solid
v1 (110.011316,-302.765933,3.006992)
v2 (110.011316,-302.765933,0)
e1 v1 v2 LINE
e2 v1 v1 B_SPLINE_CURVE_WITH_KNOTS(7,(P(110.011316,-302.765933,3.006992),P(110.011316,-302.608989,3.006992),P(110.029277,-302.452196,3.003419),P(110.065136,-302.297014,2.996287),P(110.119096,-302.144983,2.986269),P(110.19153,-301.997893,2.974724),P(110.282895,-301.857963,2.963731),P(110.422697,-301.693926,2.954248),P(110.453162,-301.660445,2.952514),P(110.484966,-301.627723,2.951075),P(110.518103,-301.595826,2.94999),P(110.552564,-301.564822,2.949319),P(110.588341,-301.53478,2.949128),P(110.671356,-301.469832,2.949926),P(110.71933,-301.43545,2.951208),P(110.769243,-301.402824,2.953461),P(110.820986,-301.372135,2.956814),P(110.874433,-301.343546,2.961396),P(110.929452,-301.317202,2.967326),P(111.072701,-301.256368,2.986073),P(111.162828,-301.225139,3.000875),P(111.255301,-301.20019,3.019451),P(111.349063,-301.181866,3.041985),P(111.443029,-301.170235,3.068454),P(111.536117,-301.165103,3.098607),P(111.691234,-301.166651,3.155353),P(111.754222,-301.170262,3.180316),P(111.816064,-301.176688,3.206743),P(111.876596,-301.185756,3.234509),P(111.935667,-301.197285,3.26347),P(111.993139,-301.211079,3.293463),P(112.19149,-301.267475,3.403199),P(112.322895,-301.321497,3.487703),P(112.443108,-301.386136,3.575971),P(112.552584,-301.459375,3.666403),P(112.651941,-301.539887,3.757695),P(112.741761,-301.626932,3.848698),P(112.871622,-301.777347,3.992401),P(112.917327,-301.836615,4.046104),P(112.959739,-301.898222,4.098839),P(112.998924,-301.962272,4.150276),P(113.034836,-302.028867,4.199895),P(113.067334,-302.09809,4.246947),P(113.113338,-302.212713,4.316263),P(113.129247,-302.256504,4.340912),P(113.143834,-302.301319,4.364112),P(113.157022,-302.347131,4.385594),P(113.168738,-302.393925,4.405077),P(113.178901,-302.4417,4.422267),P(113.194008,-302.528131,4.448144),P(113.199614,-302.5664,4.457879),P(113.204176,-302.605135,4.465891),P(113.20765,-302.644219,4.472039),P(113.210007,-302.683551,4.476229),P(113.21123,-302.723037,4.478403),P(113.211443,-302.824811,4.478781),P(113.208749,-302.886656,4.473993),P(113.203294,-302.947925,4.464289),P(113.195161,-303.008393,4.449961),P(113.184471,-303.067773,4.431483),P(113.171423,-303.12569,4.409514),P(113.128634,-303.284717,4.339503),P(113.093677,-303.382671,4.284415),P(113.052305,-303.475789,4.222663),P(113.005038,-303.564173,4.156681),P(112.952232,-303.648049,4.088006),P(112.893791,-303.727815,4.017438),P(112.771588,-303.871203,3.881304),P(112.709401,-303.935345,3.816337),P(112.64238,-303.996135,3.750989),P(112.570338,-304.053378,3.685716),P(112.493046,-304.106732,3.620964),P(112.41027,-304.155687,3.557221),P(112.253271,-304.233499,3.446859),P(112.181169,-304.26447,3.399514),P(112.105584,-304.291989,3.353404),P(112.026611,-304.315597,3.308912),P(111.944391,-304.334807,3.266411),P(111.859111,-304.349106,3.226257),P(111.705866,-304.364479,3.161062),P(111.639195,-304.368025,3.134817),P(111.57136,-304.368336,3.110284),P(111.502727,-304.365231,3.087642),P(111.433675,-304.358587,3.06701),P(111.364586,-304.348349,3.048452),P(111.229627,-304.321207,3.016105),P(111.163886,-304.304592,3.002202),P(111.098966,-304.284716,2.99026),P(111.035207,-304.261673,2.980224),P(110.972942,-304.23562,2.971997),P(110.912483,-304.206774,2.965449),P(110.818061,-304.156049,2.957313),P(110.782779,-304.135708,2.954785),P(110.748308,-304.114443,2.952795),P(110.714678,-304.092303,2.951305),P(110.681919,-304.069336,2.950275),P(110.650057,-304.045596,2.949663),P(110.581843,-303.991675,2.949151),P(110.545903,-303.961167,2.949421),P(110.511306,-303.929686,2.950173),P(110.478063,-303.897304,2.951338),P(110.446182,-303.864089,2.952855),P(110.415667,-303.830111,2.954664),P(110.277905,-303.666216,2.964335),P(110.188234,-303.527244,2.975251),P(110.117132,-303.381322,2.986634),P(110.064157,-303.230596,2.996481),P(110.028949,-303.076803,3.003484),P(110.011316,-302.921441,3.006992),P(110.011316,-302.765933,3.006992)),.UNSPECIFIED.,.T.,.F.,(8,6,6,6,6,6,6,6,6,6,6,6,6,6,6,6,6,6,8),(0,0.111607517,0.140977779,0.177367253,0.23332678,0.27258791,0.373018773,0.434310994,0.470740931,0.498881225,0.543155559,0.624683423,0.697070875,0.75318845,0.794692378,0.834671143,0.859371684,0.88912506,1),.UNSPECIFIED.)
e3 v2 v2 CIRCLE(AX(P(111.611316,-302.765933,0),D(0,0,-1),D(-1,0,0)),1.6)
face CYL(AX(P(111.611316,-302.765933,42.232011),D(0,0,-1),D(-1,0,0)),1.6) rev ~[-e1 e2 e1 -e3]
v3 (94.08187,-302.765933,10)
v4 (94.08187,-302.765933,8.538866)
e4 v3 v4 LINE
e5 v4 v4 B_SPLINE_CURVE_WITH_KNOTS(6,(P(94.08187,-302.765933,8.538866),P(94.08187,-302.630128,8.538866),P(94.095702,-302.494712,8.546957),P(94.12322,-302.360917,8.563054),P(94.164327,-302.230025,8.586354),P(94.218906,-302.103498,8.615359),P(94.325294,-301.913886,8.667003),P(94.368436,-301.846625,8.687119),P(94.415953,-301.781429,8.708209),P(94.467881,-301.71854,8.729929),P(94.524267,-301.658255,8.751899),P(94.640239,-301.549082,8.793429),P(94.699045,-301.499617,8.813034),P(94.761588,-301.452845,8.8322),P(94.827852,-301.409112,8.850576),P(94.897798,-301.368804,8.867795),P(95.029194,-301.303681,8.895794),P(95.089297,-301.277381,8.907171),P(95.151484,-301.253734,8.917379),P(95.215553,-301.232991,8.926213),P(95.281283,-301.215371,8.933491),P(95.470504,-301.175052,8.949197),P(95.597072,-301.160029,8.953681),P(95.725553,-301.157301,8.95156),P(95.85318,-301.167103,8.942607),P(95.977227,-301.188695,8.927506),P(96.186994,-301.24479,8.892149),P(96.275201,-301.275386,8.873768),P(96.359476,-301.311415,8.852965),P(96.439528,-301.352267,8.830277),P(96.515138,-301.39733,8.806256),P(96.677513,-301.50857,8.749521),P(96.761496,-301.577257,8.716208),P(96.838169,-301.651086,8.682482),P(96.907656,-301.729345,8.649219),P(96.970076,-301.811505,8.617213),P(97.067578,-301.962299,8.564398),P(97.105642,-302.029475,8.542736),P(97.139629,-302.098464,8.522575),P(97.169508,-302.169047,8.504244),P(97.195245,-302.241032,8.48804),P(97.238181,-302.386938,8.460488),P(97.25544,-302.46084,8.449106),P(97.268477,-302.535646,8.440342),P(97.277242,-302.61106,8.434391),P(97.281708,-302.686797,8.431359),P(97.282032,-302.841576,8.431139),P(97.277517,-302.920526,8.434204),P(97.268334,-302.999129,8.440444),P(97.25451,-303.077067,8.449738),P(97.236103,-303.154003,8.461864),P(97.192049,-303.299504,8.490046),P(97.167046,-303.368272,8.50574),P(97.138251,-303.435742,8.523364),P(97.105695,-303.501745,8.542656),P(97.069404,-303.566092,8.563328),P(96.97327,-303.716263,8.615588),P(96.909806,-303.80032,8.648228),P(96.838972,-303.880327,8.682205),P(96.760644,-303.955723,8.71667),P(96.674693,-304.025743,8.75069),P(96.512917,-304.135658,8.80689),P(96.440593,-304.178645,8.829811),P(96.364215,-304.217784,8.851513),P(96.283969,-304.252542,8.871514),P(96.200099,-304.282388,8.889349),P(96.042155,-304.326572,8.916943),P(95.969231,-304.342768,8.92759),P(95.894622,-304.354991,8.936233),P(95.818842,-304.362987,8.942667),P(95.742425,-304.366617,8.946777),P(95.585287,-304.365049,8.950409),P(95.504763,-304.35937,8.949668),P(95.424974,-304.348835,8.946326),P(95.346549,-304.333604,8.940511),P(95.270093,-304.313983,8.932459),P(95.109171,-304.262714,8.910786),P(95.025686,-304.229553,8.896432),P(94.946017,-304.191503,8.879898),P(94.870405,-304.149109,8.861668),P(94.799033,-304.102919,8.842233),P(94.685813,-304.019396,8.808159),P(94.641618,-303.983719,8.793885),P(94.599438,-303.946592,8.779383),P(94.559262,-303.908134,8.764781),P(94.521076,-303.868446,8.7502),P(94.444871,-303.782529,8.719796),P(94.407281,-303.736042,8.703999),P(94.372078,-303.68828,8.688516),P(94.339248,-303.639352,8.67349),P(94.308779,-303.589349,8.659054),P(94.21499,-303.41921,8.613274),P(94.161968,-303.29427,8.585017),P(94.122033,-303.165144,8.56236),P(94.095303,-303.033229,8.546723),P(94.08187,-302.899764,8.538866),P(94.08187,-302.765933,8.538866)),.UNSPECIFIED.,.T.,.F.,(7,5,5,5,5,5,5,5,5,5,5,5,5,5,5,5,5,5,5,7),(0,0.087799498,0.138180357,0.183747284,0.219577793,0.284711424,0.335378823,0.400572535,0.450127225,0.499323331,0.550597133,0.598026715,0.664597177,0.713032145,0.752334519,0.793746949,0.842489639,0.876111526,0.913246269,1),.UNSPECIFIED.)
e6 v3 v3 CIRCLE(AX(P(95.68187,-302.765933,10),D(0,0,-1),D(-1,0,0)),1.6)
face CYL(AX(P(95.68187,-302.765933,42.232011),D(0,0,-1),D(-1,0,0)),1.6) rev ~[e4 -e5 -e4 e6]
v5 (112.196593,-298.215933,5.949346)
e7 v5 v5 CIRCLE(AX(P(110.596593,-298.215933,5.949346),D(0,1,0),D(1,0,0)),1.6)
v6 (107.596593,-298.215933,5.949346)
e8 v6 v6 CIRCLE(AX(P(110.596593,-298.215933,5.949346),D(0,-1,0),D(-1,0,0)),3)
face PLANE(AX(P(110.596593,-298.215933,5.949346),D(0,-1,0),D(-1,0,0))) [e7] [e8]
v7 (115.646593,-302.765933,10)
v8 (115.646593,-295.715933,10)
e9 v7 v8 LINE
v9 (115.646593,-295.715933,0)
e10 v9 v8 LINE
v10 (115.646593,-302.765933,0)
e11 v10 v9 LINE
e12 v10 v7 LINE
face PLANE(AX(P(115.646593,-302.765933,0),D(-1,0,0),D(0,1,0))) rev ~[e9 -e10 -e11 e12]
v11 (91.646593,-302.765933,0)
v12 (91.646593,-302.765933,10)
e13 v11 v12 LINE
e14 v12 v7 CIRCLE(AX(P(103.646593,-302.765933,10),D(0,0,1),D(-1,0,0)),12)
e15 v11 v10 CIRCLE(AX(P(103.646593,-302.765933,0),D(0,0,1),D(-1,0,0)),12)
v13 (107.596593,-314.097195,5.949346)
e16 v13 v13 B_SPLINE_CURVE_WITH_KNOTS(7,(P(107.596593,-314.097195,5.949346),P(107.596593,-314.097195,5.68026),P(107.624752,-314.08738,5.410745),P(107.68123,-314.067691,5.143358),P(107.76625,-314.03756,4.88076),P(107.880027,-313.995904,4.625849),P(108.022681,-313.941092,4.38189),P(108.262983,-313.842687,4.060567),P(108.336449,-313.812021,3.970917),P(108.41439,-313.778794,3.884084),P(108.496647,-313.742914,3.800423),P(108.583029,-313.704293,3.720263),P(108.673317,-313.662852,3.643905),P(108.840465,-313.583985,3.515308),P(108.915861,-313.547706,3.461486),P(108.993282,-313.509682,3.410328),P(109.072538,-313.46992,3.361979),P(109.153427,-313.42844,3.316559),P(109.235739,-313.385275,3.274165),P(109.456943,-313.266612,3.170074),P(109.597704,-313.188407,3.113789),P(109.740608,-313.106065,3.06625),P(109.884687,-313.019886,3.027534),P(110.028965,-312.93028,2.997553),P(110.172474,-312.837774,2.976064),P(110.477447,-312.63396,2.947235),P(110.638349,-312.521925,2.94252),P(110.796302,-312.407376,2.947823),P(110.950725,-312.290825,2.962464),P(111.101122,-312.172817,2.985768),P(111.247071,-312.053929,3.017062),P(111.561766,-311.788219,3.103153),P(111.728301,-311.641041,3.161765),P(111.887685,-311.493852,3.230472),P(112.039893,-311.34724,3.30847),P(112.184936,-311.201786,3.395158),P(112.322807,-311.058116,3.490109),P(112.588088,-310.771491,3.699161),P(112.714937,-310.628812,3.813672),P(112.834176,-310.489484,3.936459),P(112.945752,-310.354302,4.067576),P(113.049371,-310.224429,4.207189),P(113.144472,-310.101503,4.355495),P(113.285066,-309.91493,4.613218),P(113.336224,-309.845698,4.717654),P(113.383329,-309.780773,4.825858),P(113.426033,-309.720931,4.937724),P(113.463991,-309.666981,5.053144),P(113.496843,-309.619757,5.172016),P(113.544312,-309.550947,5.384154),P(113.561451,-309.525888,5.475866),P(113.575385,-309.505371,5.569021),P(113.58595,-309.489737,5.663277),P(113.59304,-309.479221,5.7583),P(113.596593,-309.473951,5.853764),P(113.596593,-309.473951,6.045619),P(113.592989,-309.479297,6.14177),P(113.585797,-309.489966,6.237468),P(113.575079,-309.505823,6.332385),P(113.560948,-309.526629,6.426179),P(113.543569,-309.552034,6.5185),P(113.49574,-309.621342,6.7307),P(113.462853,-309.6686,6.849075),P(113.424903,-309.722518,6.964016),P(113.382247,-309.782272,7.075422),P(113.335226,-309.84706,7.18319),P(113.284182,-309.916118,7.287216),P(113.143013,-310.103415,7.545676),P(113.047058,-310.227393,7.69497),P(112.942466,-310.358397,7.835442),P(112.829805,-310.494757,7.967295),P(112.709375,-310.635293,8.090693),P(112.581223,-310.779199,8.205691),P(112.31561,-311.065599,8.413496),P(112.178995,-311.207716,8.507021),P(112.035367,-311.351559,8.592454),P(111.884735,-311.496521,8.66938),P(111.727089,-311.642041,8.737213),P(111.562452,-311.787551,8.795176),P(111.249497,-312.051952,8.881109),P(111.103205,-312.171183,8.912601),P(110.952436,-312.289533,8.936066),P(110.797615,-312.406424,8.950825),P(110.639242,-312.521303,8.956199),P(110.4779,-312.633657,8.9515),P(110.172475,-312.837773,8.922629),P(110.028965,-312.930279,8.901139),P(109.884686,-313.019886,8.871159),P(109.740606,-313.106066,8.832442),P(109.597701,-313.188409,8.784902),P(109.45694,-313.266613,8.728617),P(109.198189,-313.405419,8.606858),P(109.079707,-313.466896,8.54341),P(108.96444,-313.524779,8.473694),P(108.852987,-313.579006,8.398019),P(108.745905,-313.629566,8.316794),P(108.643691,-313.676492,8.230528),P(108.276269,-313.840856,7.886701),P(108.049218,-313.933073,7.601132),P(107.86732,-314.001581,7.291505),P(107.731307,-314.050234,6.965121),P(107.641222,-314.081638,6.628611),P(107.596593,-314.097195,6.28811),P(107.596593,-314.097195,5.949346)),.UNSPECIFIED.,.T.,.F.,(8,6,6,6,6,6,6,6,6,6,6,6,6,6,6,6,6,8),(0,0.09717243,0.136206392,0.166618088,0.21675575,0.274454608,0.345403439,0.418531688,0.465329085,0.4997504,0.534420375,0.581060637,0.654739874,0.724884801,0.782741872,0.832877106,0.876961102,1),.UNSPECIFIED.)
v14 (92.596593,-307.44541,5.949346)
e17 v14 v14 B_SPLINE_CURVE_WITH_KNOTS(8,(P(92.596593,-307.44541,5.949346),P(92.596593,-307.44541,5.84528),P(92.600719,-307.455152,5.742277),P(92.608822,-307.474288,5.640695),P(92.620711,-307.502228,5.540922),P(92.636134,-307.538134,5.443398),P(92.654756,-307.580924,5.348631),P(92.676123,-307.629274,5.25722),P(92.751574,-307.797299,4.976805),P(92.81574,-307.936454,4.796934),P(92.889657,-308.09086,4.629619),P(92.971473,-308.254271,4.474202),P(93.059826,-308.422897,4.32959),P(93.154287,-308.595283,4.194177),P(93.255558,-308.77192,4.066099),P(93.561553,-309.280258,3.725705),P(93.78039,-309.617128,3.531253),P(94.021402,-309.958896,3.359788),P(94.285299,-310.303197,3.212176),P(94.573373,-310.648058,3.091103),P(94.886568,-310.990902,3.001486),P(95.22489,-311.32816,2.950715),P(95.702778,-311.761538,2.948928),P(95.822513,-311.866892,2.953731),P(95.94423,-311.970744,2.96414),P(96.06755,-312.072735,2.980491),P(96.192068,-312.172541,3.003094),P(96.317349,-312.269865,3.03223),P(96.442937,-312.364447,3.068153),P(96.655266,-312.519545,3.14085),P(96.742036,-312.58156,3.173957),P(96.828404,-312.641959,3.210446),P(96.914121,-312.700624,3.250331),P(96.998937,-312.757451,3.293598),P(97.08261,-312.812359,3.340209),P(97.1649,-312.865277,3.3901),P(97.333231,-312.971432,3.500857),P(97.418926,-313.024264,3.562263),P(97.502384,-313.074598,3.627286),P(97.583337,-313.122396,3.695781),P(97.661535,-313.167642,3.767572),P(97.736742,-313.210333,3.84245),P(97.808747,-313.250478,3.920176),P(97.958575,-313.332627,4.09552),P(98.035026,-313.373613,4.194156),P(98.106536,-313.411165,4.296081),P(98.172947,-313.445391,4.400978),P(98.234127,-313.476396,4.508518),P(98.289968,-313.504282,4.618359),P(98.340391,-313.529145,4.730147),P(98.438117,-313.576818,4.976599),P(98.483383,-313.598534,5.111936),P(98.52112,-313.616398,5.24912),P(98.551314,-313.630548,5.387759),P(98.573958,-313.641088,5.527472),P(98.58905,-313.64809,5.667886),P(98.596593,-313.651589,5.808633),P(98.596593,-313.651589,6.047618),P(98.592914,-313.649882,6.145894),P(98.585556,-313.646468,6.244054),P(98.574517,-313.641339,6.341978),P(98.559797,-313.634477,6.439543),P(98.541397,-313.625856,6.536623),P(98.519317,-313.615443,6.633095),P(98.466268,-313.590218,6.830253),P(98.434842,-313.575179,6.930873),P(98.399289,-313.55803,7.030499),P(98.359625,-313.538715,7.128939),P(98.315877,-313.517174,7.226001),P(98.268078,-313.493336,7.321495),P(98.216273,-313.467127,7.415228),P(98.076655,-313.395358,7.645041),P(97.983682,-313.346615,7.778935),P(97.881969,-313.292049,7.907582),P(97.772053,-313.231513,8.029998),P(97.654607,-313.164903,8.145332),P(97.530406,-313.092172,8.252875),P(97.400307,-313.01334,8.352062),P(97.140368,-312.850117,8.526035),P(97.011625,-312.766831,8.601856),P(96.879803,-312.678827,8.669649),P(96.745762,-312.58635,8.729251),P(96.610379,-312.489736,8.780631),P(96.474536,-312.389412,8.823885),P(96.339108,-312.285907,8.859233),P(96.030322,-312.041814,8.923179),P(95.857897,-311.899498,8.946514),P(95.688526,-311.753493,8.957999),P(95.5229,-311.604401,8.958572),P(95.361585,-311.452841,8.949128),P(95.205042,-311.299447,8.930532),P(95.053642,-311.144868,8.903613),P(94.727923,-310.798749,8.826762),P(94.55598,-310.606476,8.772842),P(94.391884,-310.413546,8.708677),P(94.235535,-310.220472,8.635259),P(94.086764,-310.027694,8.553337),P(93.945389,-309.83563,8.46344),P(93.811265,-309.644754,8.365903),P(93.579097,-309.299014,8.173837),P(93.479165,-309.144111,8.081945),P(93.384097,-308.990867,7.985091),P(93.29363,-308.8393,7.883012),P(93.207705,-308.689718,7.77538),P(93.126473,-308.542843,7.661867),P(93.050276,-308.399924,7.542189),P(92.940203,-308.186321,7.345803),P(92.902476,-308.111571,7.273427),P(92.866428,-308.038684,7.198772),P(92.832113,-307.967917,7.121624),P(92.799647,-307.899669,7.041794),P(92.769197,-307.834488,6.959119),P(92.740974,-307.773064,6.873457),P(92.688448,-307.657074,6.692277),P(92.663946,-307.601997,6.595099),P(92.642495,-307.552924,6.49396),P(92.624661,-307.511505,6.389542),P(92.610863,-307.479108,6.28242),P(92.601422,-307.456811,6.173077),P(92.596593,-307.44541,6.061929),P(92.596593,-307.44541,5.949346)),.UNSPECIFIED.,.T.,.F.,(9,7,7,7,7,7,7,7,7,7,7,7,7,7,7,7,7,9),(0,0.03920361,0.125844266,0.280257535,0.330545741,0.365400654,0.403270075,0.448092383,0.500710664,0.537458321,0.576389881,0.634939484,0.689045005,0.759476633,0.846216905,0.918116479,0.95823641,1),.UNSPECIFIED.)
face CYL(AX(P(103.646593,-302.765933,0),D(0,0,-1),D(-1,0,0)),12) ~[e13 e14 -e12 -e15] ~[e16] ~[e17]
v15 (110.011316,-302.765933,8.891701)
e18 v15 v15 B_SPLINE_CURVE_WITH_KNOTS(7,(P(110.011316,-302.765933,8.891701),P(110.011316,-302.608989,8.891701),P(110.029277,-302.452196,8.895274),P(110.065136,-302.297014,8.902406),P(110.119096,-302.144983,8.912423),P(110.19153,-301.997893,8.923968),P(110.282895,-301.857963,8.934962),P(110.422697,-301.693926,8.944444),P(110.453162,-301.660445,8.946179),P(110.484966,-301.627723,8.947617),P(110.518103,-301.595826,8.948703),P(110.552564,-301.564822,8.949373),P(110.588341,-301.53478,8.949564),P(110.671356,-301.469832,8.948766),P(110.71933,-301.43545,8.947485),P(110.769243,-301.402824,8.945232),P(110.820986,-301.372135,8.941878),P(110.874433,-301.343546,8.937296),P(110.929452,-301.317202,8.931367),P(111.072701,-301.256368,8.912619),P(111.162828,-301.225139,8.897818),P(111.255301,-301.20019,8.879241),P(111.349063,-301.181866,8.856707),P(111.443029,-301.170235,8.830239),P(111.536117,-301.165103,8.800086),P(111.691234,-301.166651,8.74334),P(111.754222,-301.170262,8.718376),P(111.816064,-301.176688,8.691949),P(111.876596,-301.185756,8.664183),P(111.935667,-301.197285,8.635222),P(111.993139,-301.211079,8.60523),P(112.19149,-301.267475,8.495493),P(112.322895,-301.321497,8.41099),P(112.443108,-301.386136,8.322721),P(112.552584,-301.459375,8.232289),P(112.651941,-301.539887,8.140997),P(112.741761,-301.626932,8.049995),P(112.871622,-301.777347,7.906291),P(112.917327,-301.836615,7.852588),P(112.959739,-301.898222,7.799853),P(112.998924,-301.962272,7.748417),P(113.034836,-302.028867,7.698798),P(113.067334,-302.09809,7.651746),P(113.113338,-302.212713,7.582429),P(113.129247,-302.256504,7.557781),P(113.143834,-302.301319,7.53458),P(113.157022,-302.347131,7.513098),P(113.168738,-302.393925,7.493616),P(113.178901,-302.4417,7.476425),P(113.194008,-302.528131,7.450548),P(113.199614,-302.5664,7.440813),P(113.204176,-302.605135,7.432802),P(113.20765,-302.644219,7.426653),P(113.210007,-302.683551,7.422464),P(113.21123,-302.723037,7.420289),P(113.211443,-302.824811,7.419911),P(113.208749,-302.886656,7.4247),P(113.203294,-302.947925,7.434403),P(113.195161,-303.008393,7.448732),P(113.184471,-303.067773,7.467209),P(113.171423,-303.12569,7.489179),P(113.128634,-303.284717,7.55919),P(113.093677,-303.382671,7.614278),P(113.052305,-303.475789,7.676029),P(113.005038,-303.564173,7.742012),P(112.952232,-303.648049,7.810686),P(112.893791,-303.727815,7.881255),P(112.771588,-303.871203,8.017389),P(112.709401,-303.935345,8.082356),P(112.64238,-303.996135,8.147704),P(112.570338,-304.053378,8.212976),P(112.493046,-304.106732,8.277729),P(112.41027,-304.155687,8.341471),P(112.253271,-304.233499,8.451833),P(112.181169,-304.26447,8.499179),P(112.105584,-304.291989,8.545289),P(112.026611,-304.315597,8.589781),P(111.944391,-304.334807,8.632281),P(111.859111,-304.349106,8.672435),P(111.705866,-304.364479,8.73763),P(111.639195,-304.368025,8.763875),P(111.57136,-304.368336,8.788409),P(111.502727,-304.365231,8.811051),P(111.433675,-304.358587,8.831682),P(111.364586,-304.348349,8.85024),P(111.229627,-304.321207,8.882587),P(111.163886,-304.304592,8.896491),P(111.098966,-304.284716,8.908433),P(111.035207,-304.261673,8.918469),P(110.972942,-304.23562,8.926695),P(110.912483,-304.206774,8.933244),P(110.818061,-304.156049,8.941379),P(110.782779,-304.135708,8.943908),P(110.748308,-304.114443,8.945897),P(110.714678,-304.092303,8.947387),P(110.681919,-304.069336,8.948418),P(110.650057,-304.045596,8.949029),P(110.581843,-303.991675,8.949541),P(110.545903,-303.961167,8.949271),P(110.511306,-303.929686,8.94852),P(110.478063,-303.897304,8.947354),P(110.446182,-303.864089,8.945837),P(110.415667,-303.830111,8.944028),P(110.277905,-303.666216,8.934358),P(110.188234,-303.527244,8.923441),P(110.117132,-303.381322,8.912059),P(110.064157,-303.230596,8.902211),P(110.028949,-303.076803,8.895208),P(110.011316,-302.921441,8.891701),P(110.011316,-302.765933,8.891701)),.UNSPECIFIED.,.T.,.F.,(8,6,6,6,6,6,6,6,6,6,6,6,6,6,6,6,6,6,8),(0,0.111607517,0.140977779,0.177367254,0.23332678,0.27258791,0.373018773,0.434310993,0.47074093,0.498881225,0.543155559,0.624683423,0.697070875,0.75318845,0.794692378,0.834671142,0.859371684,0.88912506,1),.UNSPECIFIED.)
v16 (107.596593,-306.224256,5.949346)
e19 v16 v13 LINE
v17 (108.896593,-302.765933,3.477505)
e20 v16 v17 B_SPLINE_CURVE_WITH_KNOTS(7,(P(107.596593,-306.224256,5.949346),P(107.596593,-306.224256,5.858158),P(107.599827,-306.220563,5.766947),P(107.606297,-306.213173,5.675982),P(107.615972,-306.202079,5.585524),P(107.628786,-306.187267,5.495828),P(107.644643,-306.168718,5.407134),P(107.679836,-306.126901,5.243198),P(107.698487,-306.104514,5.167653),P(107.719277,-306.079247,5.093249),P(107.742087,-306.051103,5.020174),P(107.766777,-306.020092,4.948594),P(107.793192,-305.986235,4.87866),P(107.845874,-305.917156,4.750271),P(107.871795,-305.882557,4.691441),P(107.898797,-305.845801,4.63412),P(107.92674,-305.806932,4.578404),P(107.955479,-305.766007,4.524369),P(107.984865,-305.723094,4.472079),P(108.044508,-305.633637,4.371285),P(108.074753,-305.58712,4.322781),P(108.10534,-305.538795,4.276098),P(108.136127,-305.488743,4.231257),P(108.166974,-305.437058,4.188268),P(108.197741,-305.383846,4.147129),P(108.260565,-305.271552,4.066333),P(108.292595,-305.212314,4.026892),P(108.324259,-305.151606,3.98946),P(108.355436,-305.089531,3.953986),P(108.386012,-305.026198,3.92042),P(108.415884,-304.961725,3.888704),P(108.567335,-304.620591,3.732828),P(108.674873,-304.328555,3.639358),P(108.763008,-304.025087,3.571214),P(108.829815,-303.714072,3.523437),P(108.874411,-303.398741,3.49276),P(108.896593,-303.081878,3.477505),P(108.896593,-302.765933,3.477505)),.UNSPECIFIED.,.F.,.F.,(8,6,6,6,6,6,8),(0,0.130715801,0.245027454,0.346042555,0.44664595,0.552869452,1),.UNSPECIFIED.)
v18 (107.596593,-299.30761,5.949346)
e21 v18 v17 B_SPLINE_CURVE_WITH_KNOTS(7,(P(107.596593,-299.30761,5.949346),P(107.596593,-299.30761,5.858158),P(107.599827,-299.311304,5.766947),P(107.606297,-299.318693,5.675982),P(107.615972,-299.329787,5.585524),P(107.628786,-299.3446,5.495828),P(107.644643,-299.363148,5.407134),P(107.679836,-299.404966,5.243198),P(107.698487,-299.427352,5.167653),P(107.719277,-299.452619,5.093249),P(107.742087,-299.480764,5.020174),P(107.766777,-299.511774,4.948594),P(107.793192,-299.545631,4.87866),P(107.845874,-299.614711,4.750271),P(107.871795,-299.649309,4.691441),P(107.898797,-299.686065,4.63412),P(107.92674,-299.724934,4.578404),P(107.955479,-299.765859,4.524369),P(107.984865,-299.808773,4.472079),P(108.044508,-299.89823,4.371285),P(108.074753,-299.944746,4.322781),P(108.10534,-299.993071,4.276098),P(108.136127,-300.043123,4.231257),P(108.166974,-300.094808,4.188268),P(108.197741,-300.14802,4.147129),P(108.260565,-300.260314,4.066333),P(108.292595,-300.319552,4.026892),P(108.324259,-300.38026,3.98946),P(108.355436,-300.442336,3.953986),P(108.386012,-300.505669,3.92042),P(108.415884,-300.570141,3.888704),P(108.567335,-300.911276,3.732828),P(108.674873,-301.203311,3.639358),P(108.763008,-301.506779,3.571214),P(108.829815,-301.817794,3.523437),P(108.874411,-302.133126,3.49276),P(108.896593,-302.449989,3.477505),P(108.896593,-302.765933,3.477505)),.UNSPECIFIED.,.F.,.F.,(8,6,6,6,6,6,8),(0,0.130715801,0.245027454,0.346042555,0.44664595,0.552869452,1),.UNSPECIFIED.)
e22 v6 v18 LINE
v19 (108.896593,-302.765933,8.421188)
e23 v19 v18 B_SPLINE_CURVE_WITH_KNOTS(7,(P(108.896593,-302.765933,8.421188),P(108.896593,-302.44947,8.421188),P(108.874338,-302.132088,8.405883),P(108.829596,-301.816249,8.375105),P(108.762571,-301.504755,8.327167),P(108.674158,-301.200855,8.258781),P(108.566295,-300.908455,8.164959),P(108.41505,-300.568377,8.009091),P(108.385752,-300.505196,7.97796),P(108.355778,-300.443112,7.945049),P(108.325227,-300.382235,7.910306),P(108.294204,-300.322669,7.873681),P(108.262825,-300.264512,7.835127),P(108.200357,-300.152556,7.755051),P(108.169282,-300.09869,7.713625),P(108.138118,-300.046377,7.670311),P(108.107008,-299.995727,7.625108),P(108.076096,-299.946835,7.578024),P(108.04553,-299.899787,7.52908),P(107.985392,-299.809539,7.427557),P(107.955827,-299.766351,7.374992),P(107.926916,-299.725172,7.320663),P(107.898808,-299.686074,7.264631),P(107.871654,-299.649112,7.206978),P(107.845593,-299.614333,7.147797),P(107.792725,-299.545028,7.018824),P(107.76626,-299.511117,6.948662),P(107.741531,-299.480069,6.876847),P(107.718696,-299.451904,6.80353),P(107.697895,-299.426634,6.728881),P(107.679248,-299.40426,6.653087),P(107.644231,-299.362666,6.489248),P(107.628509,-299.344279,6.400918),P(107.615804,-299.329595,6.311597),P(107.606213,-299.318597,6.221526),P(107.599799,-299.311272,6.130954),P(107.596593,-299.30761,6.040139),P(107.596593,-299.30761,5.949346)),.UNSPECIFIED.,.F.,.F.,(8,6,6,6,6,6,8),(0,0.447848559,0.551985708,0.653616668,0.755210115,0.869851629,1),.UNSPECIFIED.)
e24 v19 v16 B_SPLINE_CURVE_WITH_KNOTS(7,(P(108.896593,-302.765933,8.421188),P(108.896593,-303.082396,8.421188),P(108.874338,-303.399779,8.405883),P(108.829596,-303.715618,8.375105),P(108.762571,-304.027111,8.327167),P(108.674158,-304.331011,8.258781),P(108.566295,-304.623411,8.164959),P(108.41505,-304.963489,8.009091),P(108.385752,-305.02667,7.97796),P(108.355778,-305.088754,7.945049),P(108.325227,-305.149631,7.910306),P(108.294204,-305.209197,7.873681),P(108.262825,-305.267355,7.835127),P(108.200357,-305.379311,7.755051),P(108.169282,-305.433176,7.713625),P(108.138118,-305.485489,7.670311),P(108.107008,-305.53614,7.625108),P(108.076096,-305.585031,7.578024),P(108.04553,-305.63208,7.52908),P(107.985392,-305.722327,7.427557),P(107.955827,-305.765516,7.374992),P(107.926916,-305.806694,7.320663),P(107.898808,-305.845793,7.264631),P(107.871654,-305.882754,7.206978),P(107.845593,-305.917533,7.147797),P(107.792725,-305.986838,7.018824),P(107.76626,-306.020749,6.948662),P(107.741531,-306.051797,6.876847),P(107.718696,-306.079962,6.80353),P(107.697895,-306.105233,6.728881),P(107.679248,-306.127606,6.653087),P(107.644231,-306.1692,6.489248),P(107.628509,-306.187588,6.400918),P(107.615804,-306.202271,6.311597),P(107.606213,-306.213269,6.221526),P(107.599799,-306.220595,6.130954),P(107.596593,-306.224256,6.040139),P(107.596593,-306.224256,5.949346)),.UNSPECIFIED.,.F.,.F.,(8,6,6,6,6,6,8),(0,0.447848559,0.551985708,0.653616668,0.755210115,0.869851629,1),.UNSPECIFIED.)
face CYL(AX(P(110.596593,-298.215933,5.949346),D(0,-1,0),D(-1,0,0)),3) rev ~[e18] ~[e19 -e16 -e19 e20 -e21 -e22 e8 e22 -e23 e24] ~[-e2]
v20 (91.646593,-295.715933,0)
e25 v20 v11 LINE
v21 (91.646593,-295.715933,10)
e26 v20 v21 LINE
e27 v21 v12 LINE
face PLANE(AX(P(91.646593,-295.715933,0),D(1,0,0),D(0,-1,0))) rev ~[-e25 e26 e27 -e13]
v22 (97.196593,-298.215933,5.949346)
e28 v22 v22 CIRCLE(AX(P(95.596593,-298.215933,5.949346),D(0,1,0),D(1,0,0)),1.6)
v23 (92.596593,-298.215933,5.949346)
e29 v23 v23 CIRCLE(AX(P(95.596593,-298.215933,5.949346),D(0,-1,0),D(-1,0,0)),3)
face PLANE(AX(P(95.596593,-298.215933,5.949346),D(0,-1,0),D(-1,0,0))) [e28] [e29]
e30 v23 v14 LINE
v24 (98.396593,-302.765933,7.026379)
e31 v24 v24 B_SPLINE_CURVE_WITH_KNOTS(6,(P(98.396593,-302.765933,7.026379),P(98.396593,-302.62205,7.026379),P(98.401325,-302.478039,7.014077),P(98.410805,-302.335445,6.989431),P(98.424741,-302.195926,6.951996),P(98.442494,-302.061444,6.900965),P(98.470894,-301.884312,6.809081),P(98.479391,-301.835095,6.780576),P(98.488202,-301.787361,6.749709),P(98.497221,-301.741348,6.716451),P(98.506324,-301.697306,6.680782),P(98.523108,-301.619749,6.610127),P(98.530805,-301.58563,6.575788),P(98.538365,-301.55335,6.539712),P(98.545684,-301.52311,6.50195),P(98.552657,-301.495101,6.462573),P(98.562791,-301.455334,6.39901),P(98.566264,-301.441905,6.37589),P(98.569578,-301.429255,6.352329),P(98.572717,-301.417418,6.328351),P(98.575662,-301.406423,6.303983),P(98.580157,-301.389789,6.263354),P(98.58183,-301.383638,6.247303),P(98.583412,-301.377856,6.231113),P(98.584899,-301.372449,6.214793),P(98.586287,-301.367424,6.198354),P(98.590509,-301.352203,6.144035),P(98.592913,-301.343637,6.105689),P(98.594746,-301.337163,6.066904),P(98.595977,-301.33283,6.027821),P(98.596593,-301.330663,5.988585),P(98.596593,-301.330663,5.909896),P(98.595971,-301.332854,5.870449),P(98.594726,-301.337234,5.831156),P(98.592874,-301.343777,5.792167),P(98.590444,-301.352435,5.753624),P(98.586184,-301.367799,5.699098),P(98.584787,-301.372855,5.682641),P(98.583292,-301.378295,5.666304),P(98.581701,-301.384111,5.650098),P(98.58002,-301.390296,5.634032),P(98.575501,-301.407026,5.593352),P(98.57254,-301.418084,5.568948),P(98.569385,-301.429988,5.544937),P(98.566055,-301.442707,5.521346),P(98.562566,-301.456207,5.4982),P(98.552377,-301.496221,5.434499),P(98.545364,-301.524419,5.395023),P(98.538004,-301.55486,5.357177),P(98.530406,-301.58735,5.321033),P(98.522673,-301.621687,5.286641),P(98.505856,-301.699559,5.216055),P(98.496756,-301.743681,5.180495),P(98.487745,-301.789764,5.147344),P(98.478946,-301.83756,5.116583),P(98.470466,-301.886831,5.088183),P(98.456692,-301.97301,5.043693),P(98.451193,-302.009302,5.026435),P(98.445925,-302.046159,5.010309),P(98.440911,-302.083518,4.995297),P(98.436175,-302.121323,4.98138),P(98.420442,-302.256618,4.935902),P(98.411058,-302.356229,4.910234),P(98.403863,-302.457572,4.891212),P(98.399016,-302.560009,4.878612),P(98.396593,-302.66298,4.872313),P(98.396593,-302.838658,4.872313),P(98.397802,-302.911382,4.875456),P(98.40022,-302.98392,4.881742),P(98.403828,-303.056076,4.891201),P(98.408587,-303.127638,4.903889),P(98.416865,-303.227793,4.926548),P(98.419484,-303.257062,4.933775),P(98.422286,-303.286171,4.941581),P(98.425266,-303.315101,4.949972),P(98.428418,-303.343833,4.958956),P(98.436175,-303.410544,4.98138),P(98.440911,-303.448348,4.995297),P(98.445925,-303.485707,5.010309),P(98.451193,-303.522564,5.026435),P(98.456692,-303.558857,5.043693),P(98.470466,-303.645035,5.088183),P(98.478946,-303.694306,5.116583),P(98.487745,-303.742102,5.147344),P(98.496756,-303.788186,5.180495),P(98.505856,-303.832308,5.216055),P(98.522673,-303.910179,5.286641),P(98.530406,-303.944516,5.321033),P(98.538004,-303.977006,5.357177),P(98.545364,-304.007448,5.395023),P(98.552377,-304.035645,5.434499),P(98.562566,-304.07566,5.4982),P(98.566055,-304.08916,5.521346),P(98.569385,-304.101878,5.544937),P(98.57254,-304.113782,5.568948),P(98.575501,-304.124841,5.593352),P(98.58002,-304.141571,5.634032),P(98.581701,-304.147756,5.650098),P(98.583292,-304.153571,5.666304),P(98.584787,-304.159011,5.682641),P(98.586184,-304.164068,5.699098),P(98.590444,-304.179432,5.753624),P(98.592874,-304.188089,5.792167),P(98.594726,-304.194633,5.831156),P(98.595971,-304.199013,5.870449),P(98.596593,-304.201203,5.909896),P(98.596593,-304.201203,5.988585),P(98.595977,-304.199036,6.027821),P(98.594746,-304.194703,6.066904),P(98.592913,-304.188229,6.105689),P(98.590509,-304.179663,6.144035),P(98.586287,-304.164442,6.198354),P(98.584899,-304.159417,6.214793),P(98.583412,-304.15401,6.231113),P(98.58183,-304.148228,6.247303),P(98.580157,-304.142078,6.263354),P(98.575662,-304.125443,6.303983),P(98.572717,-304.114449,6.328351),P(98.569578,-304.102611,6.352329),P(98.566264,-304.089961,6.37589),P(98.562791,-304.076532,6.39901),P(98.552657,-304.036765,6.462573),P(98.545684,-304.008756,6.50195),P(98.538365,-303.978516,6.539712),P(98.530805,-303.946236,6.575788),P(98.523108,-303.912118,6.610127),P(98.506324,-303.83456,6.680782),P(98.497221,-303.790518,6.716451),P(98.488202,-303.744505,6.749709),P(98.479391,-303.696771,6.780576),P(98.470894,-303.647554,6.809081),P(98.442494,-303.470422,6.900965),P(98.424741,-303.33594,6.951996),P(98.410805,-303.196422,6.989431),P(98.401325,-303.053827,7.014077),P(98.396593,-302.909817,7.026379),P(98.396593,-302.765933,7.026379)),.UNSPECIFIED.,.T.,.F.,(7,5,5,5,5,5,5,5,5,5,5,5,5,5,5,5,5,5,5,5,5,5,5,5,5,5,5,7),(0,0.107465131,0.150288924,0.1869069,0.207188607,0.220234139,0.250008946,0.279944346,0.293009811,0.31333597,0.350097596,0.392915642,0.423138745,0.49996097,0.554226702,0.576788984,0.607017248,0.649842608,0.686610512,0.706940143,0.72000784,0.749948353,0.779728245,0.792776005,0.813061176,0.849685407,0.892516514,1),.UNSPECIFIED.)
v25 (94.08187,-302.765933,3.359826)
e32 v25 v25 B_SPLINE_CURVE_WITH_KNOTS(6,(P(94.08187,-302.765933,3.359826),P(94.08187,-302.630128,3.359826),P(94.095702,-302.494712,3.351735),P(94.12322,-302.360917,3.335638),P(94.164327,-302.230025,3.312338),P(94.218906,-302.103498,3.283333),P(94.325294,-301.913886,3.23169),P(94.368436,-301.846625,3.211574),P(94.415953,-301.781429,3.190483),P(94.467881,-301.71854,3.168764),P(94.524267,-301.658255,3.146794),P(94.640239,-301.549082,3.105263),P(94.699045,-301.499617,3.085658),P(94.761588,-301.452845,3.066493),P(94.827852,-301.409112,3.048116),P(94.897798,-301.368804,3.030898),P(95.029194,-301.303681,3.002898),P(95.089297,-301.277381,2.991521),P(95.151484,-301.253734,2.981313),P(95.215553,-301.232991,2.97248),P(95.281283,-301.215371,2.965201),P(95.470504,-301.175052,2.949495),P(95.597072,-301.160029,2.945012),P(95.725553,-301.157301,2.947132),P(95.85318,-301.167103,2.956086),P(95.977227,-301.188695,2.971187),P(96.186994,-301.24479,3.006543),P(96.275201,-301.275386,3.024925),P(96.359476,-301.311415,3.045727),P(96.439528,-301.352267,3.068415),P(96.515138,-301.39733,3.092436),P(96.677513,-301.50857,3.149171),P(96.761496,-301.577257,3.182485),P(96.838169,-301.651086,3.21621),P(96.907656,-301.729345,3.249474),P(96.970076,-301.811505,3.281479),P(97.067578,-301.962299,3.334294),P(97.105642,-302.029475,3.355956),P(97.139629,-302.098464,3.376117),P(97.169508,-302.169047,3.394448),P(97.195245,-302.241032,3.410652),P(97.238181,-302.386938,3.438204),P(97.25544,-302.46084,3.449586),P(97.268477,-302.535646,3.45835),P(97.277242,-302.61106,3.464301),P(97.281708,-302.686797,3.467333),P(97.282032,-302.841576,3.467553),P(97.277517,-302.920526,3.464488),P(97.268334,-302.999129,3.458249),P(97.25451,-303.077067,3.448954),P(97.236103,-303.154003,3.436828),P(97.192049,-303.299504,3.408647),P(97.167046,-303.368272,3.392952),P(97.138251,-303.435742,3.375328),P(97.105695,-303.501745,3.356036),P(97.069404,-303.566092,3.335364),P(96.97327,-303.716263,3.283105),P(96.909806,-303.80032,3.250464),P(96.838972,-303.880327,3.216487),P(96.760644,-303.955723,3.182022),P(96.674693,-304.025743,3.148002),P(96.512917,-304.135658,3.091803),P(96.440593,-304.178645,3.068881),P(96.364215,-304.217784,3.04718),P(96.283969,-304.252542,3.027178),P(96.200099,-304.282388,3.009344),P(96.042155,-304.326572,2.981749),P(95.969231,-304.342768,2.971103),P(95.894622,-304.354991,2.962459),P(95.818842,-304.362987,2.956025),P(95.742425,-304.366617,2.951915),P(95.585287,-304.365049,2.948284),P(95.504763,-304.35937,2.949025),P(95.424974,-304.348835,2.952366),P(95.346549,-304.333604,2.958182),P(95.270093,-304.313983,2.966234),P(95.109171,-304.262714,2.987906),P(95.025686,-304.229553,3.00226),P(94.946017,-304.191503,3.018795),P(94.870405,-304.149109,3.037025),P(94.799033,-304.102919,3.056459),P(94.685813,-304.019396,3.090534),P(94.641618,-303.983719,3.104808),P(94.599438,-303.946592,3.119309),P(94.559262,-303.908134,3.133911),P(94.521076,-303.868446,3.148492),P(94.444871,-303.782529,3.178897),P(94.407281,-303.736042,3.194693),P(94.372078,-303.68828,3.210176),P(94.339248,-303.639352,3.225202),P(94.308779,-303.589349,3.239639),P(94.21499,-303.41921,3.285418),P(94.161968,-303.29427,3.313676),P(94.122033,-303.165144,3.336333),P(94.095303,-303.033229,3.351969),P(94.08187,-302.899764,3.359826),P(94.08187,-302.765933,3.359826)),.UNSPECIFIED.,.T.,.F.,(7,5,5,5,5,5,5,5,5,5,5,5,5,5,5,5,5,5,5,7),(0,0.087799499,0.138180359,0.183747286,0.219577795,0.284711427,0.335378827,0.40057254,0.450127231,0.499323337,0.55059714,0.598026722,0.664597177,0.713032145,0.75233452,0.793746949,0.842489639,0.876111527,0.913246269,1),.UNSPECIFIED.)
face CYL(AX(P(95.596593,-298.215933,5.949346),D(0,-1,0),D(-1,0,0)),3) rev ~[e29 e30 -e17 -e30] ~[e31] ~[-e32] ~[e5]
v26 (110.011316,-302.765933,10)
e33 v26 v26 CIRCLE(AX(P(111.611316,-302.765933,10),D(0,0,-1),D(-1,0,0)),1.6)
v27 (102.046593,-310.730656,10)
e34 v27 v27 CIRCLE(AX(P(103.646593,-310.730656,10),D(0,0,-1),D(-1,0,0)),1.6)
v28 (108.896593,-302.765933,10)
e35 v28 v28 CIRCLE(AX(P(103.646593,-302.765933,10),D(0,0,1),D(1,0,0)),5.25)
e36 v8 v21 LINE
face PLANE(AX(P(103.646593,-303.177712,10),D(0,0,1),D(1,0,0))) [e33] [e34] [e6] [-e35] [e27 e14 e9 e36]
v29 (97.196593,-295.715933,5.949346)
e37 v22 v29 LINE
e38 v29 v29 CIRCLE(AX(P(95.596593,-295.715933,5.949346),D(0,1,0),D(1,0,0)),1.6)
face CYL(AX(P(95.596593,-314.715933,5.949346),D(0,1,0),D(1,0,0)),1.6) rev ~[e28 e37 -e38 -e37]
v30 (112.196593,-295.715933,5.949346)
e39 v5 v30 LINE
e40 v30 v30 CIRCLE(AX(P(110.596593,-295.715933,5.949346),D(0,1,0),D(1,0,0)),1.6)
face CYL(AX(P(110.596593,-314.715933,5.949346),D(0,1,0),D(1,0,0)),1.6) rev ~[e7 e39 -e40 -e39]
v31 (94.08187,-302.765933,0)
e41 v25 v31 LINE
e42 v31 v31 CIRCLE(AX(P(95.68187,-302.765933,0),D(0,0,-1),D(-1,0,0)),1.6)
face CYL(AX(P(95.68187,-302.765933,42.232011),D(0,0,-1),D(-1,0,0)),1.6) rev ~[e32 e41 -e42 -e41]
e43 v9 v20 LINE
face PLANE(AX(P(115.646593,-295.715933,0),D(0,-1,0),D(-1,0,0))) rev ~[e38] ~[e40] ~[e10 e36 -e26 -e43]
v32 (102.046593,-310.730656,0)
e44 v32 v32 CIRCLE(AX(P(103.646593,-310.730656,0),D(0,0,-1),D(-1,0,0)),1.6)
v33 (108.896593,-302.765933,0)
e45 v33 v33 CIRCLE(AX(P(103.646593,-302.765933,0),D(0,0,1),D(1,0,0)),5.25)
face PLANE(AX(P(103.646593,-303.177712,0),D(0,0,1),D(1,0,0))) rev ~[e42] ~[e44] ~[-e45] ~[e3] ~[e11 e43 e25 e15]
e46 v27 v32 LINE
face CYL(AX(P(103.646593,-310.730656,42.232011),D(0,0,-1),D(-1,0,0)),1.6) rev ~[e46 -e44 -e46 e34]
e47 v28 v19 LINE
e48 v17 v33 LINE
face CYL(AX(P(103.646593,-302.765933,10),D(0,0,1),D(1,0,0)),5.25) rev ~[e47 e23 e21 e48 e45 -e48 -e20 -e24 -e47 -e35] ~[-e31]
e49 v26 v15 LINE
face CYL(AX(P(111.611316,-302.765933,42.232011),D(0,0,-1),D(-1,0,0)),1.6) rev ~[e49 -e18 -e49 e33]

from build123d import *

# Parameters (mm, degrees)
RESSALTO_EXTRUS_O1_DEPTH                = 10
ESBO_O2_R                               = 5.25
CORTE_EXTRUS_O1_DEPTH                   = 16
CORTE_EXTRUS_O1_DEPTH_BACK              = 31.8
CBORE_FOR_M5_HEX_HEAD_BOLT1_D           = 3.2
CBORE_FOR_M5_HEX_HEAD_BOLT1_CBORE_D     = 6
CBORE_FOR_M5_HEX_HEAD_BOLT1_CBORE_DEPTH = 16.5
M3_CLEARANCE_HOLE5_D                    = 3.2


with BuildPart() as part:
    # Esboço1 → Ressalto-extrusão1 (new body)
    with BuildSketch(Plane.XY):
        with BuildLine():
            Line((115.646593224, -302.7659332), (115.646593224, -295.7159332))
            Line((115.646593224, -295.7159332), (91.646593224, -295.7159332))
            Line((91.646593224, -295.7159332), (91.646593224, -302.7659332))
            ThreePointArc((91.646593224, -302.7659332), (103.646593224, -314.7659332), (115.646593224, -302.7659332))
        make_face()
    extrude(amount=RESSALTO_EXTRUS_O1_DEPTH)

    # Esboço2 → Corte-extrusão1 (cut, two sides)
    with BuildSketch(Plane.XY.offset(10)) as corte_extrus_o1_sk:
        with Locations((103.646593224, -302.7659332)):
            Circle(ESBO_O2_R)
    extrude(amount=CORTE_EXTRUS_O1_DEPTH, mode=Mode.SUBTRACT)
    extrude(corte_extrus_o1_sk.sketch, amount=-CORTE_EXTRUS_O1_DEPTH_BACK, mode=Mode.SUBTRACT)

    # CBORE for M5 Hex Head Bolt1 (through all)
    with Locations(Plane(origin=(0, -314.7159332, 0), x_dir=(-1, 0, 0), z_dir=(0, -1, 0))):
        with Locations((-95.596593224, -5.949346208), (-110.596593224, -5.949346208)):
            CounterBoreHole(CBORE_FOR_M5_HEX_HEAD_BOLT1_D / 2, CBORE_FOR_M5_HEX_HEAD_BOLT1_CBORE_D / 2, CBORE_FOR_M5_HEX_HEAD_BOLT1_CBORE_DEPTH)

    # M3 Clearance Hole5 (through all)
    with Locations(Plane.XY.offset(10)):
        with Locations((95.681870132, -302.765933199), (103.646593224, -310.730656291), (111.611316315, -302.765933199)):
            Hole(M3_CLEARANCE_HOLE5_D / 2)


solid = part.part
